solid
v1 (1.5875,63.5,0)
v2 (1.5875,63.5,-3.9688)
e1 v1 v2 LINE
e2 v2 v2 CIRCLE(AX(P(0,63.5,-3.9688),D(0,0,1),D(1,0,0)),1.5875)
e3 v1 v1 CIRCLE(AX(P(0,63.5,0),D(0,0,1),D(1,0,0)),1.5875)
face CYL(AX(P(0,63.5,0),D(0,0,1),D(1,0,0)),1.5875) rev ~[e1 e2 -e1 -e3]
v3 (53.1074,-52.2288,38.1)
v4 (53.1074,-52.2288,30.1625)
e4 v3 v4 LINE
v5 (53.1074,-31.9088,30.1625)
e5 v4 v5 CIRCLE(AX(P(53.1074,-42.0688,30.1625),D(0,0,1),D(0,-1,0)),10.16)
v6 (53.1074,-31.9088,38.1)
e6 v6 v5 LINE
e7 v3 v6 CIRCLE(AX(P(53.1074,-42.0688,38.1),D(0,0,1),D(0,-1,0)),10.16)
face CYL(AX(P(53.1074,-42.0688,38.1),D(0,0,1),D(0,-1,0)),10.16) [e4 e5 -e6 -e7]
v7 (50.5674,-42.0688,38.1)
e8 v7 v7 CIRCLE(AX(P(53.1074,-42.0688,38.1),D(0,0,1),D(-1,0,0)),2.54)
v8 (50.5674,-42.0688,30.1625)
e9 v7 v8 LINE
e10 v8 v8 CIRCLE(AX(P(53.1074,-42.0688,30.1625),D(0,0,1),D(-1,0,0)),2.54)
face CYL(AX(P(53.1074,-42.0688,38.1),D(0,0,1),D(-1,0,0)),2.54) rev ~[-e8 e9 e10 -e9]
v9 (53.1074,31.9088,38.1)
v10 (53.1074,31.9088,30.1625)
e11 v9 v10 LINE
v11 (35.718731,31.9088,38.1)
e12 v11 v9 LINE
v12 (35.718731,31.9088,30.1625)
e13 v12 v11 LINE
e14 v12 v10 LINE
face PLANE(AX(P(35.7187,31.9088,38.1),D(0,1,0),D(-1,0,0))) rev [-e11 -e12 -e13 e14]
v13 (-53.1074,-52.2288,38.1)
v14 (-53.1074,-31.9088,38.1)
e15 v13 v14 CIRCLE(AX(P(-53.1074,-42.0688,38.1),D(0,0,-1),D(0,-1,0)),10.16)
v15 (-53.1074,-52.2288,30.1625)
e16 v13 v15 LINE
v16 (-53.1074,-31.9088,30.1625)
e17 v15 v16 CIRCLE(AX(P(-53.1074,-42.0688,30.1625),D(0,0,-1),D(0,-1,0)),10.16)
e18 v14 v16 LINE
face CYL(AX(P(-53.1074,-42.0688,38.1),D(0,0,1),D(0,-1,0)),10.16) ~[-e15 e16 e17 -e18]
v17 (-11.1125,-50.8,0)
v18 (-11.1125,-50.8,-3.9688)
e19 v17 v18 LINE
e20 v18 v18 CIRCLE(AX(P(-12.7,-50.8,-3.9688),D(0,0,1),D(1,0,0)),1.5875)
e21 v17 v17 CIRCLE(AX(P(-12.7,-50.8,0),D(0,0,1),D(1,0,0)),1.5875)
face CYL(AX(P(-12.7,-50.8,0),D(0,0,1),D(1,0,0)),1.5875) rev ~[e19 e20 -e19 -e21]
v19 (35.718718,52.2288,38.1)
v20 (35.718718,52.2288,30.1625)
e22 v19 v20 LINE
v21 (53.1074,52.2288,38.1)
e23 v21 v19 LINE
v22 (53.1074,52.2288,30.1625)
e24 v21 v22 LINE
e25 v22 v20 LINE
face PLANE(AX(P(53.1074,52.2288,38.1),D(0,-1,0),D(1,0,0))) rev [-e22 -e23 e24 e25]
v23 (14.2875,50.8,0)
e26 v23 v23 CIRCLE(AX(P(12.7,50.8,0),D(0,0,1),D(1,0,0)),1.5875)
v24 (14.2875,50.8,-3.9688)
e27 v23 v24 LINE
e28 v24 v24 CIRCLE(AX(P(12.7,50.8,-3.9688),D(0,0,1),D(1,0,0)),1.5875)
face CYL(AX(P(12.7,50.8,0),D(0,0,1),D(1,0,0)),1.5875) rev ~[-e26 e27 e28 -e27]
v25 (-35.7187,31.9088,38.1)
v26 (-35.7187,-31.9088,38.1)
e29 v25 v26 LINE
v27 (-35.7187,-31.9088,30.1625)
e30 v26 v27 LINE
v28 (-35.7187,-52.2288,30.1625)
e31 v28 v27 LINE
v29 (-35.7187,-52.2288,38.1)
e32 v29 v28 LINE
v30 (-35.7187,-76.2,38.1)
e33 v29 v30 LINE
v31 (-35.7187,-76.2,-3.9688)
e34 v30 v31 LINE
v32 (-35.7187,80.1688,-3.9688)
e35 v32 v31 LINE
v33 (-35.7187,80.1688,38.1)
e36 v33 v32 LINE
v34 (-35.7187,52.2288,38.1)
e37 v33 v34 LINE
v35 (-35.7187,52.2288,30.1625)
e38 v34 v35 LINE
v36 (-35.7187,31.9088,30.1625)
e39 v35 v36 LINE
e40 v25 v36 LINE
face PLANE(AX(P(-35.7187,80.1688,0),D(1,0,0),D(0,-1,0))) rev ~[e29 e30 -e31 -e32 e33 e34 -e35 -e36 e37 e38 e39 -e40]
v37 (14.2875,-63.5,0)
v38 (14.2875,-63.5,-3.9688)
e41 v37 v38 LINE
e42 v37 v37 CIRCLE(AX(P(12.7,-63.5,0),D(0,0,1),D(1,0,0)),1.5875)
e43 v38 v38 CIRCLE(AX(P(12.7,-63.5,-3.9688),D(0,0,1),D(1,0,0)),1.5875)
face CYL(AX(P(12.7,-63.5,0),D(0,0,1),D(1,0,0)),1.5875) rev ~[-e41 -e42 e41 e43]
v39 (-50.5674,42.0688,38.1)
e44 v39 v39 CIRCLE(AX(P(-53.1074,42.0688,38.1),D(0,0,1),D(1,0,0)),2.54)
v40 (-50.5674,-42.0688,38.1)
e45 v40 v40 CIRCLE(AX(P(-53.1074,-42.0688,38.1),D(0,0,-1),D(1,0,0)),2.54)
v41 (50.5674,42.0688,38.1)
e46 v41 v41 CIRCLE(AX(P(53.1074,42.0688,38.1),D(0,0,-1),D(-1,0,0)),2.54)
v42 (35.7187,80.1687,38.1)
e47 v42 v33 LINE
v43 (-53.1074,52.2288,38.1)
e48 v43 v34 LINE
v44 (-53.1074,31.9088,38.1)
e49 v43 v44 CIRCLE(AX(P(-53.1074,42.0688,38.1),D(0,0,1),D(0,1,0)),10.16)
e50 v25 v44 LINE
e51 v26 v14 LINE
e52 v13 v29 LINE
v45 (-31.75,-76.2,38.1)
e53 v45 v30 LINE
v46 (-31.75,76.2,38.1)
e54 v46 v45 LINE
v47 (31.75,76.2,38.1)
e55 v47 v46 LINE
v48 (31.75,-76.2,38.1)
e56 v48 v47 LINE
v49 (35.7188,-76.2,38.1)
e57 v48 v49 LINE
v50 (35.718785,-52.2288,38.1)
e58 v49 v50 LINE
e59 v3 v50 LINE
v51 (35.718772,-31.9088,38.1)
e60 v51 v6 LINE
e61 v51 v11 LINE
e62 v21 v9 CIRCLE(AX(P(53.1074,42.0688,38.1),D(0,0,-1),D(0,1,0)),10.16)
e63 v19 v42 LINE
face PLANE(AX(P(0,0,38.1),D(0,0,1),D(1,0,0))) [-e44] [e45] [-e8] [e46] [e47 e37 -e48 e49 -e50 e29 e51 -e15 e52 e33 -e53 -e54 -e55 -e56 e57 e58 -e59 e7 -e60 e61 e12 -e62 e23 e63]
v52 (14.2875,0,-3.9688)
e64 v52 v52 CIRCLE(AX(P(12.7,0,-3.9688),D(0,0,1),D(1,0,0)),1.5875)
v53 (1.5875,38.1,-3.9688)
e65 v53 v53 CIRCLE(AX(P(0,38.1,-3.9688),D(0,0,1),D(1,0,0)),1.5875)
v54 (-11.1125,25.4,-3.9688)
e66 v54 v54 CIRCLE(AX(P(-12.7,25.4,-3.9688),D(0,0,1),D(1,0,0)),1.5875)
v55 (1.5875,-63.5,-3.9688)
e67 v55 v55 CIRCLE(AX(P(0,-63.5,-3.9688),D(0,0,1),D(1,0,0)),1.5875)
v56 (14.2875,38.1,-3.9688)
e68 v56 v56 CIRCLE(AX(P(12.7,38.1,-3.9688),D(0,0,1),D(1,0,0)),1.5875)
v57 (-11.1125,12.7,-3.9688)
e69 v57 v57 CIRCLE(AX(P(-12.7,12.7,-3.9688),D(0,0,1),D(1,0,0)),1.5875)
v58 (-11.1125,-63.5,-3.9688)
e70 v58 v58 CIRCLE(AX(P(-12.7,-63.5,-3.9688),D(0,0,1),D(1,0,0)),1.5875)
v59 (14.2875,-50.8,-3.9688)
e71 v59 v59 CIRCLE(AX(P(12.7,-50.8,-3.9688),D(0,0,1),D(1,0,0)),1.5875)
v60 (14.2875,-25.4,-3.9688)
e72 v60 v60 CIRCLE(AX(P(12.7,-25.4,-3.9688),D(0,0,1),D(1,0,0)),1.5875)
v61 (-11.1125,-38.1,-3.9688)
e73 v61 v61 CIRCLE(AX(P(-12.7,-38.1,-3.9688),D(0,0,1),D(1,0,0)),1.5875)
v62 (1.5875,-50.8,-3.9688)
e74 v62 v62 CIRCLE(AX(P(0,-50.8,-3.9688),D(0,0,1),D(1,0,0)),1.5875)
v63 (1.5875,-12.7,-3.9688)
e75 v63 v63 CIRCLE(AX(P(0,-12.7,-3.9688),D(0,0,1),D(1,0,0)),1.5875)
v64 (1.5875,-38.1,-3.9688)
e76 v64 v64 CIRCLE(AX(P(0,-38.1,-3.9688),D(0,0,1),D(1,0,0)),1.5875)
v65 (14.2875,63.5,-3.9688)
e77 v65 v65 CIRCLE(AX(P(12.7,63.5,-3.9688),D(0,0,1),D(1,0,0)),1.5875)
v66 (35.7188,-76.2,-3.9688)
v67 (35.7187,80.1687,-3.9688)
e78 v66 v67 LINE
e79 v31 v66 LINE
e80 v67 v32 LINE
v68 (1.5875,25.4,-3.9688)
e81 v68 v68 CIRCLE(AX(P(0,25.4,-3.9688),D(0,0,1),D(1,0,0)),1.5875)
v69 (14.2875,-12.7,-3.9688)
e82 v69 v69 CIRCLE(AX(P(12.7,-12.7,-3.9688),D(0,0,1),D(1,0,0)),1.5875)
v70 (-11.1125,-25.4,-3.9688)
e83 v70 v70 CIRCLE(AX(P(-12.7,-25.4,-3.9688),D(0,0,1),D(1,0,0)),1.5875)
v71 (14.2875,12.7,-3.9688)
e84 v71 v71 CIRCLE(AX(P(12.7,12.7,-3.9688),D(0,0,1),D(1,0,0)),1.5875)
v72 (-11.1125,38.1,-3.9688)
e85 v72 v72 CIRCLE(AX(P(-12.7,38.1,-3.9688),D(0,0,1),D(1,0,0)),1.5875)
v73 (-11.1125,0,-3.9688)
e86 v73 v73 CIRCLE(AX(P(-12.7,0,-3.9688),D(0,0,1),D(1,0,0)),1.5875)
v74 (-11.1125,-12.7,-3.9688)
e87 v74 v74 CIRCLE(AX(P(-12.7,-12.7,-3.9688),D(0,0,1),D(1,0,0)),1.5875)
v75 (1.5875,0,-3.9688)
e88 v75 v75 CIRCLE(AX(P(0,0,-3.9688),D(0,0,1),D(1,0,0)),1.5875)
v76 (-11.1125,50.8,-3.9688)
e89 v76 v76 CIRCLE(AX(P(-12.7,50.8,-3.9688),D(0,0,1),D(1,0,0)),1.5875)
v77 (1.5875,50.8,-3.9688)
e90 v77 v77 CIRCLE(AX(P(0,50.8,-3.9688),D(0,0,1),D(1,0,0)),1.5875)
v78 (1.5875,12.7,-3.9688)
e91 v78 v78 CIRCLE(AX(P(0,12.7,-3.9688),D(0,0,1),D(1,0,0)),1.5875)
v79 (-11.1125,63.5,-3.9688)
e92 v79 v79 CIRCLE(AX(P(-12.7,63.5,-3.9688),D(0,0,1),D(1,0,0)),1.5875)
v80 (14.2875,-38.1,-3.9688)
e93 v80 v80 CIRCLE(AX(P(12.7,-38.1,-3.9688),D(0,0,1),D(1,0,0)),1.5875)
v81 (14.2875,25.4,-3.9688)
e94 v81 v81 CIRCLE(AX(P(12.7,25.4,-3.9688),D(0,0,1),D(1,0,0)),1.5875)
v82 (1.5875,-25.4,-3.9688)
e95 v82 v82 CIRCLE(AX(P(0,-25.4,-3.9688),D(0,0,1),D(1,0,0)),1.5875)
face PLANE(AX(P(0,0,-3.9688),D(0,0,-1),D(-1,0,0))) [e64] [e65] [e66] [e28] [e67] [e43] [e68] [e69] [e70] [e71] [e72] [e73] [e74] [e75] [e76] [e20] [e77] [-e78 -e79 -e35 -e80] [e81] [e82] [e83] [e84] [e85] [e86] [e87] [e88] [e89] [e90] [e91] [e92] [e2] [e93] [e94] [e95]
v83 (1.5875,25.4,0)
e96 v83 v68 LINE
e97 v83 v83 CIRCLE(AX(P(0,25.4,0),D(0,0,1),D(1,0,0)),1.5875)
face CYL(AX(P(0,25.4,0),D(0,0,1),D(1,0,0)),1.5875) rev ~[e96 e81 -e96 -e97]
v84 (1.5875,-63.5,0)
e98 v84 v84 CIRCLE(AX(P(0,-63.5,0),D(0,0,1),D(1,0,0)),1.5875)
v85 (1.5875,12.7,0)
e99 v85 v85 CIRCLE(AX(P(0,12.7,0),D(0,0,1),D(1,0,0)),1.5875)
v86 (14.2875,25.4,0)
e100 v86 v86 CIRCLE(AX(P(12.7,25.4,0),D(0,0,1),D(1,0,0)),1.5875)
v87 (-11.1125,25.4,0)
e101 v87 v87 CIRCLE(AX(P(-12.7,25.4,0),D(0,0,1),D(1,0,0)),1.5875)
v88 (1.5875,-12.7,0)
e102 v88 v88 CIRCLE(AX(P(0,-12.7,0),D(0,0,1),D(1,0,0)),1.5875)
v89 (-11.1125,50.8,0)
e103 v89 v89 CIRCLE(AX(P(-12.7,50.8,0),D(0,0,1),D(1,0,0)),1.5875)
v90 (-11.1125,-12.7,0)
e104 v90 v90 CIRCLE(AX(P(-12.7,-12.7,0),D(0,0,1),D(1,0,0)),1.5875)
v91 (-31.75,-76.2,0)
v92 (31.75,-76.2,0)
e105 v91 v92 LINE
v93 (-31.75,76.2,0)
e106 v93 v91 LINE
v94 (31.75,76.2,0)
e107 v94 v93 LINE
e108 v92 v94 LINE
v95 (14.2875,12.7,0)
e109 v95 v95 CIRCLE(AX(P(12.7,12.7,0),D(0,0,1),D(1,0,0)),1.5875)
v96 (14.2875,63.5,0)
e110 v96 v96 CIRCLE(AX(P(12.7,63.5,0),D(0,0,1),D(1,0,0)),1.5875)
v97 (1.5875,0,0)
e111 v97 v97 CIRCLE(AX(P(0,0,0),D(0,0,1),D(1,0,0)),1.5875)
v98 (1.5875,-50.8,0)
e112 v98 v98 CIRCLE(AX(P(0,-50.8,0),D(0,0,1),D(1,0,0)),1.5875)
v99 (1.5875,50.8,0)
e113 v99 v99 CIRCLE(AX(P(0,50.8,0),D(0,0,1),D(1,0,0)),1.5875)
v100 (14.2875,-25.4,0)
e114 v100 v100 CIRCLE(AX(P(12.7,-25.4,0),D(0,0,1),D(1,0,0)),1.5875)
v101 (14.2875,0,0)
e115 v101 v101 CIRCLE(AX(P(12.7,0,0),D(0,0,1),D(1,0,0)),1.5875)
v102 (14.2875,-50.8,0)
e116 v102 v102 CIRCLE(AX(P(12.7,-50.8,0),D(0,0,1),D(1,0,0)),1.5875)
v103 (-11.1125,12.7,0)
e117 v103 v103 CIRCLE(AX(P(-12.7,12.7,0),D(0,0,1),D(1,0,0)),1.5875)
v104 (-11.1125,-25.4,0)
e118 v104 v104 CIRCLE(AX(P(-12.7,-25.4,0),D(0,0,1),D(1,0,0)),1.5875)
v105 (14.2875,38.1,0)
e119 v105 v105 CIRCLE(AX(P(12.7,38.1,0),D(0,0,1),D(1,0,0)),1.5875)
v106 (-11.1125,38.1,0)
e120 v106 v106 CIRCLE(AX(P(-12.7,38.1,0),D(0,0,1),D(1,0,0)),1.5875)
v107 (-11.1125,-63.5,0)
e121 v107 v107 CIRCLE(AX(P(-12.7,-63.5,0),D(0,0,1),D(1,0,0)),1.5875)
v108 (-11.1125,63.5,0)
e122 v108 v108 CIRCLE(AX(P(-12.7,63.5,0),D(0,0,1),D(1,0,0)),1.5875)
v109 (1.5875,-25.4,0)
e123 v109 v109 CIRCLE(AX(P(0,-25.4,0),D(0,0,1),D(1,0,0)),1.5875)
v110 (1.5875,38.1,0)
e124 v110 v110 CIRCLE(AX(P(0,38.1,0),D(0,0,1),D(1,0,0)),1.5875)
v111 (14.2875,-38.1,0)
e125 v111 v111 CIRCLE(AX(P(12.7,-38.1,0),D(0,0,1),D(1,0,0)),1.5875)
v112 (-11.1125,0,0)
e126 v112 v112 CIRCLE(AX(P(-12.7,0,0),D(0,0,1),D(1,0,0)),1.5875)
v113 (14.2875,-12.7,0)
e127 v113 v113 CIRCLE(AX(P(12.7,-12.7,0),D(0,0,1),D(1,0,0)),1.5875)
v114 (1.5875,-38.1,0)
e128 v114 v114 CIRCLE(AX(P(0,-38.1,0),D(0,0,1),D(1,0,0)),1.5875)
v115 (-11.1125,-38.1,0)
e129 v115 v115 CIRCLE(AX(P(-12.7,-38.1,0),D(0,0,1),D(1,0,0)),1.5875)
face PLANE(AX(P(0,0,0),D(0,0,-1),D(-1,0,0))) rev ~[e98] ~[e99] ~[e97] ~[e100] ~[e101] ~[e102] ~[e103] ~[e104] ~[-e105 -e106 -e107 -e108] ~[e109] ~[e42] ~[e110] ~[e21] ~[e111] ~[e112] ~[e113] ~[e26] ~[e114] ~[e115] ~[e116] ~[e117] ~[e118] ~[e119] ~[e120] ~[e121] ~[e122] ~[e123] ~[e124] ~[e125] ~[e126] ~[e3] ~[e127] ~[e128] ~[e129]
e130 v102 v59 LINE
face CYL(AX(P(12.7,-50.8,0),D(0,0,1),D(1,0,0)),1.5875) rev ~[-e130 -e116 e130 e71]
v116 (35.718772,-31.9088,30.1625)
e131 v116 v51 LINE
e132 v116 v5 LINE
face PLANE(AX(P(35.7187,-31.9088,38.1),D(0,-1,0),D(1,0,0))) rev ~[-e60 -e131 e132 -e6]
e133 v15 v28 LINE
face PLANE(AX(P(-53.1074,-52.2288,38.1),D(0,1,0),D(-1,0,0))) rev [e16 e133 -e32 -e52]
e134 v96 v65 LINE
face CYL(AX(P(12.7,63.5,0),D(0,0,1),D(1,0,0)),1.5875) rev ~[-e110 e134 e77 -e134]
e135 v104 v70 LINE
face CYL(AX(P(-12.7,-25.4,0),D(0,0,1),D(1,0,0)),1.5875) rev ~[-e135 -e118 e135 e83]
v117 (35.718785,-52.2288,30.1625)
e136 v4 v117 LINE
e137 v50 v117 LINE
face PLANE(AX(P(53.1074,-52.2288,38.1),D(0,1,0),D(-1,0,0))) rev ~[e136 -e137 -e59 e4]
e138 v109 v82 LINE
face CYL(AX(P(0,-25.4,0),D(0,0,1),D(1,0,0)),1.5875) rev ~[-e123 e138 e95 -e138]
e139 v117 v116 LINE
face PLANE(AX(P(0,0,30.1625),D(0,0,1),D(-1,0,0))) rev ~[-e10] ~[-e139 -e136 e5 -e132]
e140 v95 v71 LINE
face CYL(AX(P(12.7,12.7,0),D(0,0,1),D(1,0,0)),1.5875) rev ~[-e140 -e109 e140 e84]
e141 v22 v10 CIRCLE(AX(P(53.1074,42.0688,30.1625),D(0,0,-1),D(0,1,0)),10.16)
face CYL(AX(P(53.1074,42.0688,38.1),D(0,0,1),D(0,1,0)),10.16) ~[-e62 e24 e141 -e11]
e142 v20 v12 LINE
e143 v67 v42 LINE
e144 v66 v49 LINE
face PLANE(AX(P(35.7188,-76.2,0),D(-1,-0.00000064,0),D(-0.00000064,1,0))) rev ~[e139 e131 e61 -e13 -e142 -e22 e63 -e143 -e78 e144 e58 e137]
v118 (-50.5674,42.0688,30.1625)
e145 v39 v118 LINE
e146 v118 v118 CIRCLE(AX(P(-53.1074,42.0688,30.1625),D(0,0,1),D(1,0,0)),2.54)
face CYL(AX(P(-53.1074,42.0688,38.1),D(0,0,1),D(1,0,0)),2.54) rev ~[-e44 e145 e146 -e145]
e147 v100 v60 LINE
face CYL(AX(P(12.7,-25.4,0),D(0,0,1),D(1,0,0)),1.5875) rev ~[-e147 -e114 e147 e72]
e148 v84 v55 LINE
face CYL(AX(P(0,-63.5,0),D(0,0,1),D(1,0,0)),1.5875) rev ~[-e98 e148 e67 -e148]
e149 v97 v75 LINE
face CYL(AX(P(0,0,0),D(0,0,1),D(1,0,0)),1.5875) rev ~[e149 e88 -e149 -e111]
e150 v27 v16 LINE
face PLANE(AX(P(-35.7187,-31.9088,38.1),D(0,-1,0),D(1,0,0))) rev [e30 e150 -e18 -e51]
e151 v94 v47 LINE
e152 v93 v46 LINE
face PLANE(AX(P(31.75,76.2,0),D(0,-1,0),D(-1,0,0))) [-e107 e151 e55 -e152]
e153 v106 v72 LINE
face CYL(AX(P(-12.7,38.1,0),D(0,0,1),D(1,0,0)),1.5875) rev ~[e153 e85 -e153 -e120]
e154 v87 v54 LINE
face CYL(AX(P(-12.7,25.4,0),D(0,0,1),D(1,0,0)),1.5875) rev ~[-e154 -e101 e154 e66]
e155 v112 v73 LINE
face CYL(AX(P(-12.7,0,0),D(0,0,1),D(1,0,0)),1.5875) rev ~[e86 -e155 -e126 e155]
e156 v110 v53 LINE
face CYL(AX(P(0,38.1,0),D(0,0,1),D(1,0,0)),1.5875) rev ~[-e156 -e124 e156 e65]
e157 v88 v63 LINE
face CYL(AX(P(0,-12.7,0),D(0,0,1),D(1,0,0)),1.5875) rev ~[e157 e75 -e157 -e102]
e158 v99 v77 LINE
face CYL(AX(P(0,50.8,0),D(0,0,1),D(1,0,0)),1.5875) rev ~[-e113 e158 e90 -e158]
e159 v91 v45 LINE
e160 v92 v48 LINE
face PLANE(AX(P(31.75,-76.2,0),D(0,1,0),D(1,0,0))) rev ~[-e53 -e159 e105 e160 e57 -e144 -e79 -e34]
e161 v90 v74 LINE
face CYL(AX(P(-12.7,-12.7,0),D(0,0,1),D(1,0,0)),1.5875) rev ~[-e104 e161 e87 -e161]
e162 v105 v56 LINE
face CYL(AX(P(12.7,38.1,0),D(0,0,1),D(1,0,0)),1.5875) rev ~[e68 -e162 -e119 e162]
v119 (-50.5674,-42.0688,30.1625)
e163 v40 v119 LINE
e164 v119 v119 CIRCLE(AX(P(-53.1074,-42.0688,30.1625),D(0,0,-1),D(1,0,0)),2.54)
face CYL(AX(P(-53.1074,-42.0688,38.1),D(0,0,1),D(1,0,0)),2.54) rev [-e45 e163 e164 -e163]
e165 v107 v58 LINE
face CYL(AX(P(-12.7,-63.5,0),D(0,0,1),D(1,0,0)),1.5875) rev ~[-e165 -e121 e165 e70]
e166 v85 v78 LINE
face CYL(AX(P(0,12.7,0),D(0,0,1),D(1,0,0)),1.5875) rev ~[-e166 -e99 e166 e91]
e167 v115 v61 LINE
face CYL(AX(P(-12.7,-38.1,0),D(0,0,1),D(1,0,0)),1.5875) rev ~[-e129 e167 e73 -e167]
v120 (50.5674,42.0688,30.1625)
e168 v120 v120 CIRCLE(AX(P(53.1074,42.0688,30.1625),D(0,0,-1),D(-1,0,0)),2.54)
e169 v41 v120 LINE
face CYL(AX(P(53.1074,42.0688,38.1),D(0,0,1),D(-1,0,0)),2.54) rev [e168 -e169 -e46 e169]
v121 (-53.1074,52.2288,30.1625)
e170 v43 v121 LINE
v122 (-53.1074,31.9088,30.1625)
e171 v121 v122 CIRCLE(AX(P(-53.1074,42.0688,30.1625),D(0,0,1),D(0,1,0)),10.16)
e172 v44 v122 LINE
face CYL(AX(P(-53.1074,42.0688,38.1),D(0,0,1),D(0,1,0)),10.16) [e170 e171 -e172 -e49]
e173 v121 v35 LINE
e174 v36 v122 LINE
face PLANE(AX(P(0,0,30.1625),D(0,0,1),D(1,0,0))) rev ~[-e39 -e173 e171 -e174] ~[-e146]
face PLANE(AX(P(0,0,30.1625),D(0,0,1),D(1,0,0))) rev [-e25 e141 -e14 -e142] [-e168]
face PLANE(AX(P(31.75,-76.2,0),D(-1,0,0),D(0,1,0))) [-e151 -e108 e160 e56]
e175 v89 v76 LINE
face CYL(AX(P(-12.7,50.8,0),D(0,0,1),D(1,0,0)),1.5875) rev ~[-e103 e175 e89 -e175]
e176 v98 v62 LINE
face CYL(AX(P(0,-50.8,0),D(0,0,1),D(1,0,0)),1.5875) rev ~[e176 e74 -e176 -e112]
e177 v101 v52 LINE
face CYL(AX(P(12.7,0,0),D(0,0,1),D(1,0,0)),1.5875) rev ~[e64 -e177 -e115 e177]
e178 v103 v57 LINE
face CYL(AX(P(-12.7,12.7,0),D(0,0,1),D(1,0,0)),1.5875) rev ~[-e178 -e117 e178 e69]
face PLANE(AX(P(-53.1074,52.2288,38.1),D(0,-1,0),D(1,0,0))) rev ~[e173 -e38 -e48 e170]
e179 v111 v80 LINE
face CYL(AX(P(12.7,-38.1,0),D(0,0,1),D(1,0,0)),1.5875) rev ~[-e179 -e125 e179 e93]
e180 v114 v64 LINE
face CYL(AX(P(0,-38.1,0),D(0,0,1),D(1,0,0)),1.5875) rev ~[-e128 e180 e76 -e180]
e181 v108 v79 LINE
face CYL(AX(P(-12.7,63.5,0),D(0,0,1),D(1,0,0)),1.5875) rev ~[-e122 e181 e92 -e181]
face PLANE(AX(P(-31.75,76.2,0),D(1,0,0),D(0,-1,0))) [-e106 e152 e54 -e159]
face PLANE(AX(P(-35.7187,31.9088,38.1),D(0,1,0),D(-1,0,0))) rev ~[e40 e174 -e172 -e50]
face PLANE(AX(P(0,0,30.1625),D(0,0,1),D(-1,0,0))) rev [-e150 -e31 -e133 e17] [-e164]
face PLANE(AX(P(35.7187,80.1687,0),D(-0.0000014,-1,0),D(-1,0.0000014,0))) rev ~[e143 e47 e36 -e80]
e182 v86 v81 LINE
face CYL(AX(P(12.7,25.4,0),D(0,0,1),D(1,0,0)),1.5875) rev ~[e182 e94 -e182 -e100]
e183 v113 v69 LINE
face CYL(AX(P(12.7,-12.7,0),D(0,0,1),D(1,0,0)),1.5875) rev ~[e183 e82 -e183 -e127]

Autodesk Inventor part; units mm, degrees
ref_plane "YZ Plane" through (0, 0, 0) normal (1, 0, 0) x (0, 1, 0)
ref_plane "XZ Plane" through (0, 0, 0) normal (0, 1, 0) x (-1, 0, 0)
ref_plane "XY Plane" through (0, 0, 0) normal (0, 0, 1) x (1, 0, 0)
sketch "Sketch1" plane through (0, 0, 0) normal (0, 0, 1) x (1, 0, 0)
  line L0 (31.75, -76.2) -> (31.75, 76.2)
  line L1 (31.75, 76.2) -> (-31.75, 76.2)
  line L2 (-31.75, 76.2) -> (-31.75, -76.2)
  line L3 (-31.75, -76.2) -> (31.75, 76.2) construction
  line L4 (31.75, -76.2) -> (-31.75, 76.2) construction
  line L5 (35.7188, -76.2) -> (35.7187, 80.1687)
  line L6 (35.7187, 80.1687) -> (-35.7187, 80.1688)
  line L7 (-35.7187, 80.1688) -> (-35.7187, -76.2)
  line L8 (-33.7758, -75.8079) -> (35.7187, 80.1687) construction
  line L9 (33.7758, -75.8079) -> (-35.7187, 80.1688) construction
  line L10 (-31.75, -76.2) -> (-35.7187, -76.2)
  line L11 (31.75, -76.2) -> (35.7188, -76.2)
  point P0 (0, 0)
  dimension "d2" = 3.9688
  dimension "d3" = 3.9688
  dimension "d6" = 152.4
  dimension "d37" = 31.75
  dimension "d38" = 31.75
  dimension "d39" = 3.9688
extrude "Extrusion1" add sketch "Sketch1" along normal blind 38.1
sketch "Sketch2" plane through (0, 0, 0) normal (0, 0, -1) x (-1, 0, 0)
  line L0 (-35.7188, -76.2) -> (-35.7187, 80.1687) projected
  line L1 (35.7187, 80.1688) -> (35.7187, -76.2) projected
  line L2 (-35.7187, 80.1687) -> (35.7187, 80.1687)
  line L3 (35.7187, 80.1687) -> (35.7187, -76.2)
  line L4 (35.7187, -76.2) -> (-35.7187, -76.2)
  line L5 (-35.7187, -76.2) -> (-35.7187, 80.1687)
  point P0 (0, 0)
extrude "Extrusion2" add sketch "Sketch2" along normal blind 3.9688
sketch "Sketch5" plane through (0, 0, 38.1) normal (0, 0, 1) x (1, 0, 0)
  line L0 (-35.7187, 80.1688) -> (-35.7187, -76.2) projected
  line L1 (-35.7187, 42.0688) -> (-53.1074, 42.0688) construction
  line L2 (-35.7187, 31.9088) -> (-53.1074, 31.9088)
  line L3 (-53.1074, 52.2288) -> (-35.7187, 52.2288)
  arc A0 (-53.1074, 52.2288) -> (-53.1074, 31.9088) centre (-53.1074, 42.0688) ccw
  line L4 (35.7187, 80.1687) -> (-35.7187, 80.1688) projected
  circle A1 centre (-53.1074, 42.0688) radius 2.54
  point P0 (0, 0)
  dimension "d18" = 10.16
  dimension "d21" = 5.08
extrude "Extrusion4" add sketch "Sketch5" against normal blind 7.9375
mirror "Mirror1" about plane through (0, 0, 0) normal (1, 0, 0) of "Extrusion4"
mirror "Mirror2" about plane through (0, 0, 0) normal (0, 1, 0) of "Extrusion4", "Mirror1"
sketch "Sketch6" plane through (0, 0, 0) normal (0, 0, 1) x (1, 0, 0)
  circle A0 centre (-12.7, -63.5) radius 1.5875
  line L0 (-31.75, -76.2) -> (-31.75, 76.2) projected
  line L1 (-31.75, -76.2) -> (31.75, -76.2) construction
  line L2 (-12.7, -63.5) -> (-12.7, 76.2) construction
  line L3 (-31.75, 76.2) -> (31.75, 76.2) construction
  line L4 (-12.7, -63.5) -> (25.4, -63.5) construction
  circle A1 centre (-12.7, -50.8) radius 1.5875
  circle A2 centre (-12.7, -38.1) radius 1.5875
  circle A3 centre (-12.7, -25.4) radius 1.5875
  circle A4 centre (-12.7, -12.7) radius 1.5875
  circle A5 centre (-12.7, 0) radius 1.5875
  circle A6 centre (-12.7, 12.7) radius 1.5875
  circle A7 centre (-12.7, 25.4) radius 1.5875
  circle A8 centre (-12.7, 38.1) radius 1.5875
  circle A9 centre (-12.7, 50.8) radius 1.5875
  circle A10 centre (-12.7, 63.5) radius 1.5875
  circle A11 centre (0, -63.5) radius 1.5875
  circle A12 centre (0, -50.8) radius 1.5875
  circle A13 centre (0, -38.1) radius 1.5875
  circle A14 centre (0, -25.4) radius 1.5875
  circle A15 centre (0, -12.7) radius 1.5875
  circle A16 centre (0, 0) radius 1.5875
  circle A17 centre (0, 12.7) radius 1.5875
  circle A18 centre (0, 25.4) radius 1.5875
  circle A19 centre (0, 38.1) radius 1.5875
  circle A20 centre (0, 50.8) radius 1.5875
  circle A21 centre (0, 63.5) radius 1.5875
  circle A22 centre (12.7, -63.5) radius 1.5875
  circle A23 centre (12.7, -50.8) radius 1.5875
  circle A24 centre (12.7, -38.1) radius 1.5875
  circle A25 centre (12.7, -25.4) radius 1.5875
  circle A26 centre (12.7, -12.7) radius 1.5875
  circle A27 centre (12.7, 0) radius 1.5875
  circle A28 centre (12.7, 12.7) radius 1.5875
  circle A29 centre (12.7, 25.4) radius 1.5875
  circle A30 centre (12.7, 38.1) radius 1.5875
  circle A31 centre (12.7, 50.8) radius 1.5875
  circle A32 centre (12.7, 63.5) radius 1.5875
  point P0 (0, 0)
  dimension "d24" = 3.175
  dimension "d25" = 19.05
  dimension "d26" = 12.7
  dimension "d29" = 12.7
  dimension "d32" = 12.7
extrude "Extrusion5" cut sketch "Sketch6" against normal through all
sketch "Sketch7" plane through (0, 0, 0) normal (0, 0, 1) x (1, 0, 0)
  point P0 (0, 0)
equation "\"d2\" = wallThickness"
equation "\"d3\" = wallThickness"
equation "\"d6\" = interiorHeight"
equation "\"d37\" = 0.5 * interiorWidth"
equation "\"d38\" = 0.5 * interiorWidth"
equation "\"d39\" = wallThickness"
equation "\"d7\" = interiorDepth"
equation "\"d9\" = wallThickness"
equation "\"d18\" = tabWidth"
equation "\"d21\" = screwHole"
equation "\"d22\" = 2 * wallThickness"
equation "\"interiorWidth\" = 63.5"
equation "\"interiorHeight\" = 152.4"
equation "\"wallThickness\" = 3.96875"
equation "\"interiorDepth\" = 38.1"
equation "\"screwHole\" = 5.08"
equation "\"tabWidth\" = 10.16"
properties part number "thermometerCover"
